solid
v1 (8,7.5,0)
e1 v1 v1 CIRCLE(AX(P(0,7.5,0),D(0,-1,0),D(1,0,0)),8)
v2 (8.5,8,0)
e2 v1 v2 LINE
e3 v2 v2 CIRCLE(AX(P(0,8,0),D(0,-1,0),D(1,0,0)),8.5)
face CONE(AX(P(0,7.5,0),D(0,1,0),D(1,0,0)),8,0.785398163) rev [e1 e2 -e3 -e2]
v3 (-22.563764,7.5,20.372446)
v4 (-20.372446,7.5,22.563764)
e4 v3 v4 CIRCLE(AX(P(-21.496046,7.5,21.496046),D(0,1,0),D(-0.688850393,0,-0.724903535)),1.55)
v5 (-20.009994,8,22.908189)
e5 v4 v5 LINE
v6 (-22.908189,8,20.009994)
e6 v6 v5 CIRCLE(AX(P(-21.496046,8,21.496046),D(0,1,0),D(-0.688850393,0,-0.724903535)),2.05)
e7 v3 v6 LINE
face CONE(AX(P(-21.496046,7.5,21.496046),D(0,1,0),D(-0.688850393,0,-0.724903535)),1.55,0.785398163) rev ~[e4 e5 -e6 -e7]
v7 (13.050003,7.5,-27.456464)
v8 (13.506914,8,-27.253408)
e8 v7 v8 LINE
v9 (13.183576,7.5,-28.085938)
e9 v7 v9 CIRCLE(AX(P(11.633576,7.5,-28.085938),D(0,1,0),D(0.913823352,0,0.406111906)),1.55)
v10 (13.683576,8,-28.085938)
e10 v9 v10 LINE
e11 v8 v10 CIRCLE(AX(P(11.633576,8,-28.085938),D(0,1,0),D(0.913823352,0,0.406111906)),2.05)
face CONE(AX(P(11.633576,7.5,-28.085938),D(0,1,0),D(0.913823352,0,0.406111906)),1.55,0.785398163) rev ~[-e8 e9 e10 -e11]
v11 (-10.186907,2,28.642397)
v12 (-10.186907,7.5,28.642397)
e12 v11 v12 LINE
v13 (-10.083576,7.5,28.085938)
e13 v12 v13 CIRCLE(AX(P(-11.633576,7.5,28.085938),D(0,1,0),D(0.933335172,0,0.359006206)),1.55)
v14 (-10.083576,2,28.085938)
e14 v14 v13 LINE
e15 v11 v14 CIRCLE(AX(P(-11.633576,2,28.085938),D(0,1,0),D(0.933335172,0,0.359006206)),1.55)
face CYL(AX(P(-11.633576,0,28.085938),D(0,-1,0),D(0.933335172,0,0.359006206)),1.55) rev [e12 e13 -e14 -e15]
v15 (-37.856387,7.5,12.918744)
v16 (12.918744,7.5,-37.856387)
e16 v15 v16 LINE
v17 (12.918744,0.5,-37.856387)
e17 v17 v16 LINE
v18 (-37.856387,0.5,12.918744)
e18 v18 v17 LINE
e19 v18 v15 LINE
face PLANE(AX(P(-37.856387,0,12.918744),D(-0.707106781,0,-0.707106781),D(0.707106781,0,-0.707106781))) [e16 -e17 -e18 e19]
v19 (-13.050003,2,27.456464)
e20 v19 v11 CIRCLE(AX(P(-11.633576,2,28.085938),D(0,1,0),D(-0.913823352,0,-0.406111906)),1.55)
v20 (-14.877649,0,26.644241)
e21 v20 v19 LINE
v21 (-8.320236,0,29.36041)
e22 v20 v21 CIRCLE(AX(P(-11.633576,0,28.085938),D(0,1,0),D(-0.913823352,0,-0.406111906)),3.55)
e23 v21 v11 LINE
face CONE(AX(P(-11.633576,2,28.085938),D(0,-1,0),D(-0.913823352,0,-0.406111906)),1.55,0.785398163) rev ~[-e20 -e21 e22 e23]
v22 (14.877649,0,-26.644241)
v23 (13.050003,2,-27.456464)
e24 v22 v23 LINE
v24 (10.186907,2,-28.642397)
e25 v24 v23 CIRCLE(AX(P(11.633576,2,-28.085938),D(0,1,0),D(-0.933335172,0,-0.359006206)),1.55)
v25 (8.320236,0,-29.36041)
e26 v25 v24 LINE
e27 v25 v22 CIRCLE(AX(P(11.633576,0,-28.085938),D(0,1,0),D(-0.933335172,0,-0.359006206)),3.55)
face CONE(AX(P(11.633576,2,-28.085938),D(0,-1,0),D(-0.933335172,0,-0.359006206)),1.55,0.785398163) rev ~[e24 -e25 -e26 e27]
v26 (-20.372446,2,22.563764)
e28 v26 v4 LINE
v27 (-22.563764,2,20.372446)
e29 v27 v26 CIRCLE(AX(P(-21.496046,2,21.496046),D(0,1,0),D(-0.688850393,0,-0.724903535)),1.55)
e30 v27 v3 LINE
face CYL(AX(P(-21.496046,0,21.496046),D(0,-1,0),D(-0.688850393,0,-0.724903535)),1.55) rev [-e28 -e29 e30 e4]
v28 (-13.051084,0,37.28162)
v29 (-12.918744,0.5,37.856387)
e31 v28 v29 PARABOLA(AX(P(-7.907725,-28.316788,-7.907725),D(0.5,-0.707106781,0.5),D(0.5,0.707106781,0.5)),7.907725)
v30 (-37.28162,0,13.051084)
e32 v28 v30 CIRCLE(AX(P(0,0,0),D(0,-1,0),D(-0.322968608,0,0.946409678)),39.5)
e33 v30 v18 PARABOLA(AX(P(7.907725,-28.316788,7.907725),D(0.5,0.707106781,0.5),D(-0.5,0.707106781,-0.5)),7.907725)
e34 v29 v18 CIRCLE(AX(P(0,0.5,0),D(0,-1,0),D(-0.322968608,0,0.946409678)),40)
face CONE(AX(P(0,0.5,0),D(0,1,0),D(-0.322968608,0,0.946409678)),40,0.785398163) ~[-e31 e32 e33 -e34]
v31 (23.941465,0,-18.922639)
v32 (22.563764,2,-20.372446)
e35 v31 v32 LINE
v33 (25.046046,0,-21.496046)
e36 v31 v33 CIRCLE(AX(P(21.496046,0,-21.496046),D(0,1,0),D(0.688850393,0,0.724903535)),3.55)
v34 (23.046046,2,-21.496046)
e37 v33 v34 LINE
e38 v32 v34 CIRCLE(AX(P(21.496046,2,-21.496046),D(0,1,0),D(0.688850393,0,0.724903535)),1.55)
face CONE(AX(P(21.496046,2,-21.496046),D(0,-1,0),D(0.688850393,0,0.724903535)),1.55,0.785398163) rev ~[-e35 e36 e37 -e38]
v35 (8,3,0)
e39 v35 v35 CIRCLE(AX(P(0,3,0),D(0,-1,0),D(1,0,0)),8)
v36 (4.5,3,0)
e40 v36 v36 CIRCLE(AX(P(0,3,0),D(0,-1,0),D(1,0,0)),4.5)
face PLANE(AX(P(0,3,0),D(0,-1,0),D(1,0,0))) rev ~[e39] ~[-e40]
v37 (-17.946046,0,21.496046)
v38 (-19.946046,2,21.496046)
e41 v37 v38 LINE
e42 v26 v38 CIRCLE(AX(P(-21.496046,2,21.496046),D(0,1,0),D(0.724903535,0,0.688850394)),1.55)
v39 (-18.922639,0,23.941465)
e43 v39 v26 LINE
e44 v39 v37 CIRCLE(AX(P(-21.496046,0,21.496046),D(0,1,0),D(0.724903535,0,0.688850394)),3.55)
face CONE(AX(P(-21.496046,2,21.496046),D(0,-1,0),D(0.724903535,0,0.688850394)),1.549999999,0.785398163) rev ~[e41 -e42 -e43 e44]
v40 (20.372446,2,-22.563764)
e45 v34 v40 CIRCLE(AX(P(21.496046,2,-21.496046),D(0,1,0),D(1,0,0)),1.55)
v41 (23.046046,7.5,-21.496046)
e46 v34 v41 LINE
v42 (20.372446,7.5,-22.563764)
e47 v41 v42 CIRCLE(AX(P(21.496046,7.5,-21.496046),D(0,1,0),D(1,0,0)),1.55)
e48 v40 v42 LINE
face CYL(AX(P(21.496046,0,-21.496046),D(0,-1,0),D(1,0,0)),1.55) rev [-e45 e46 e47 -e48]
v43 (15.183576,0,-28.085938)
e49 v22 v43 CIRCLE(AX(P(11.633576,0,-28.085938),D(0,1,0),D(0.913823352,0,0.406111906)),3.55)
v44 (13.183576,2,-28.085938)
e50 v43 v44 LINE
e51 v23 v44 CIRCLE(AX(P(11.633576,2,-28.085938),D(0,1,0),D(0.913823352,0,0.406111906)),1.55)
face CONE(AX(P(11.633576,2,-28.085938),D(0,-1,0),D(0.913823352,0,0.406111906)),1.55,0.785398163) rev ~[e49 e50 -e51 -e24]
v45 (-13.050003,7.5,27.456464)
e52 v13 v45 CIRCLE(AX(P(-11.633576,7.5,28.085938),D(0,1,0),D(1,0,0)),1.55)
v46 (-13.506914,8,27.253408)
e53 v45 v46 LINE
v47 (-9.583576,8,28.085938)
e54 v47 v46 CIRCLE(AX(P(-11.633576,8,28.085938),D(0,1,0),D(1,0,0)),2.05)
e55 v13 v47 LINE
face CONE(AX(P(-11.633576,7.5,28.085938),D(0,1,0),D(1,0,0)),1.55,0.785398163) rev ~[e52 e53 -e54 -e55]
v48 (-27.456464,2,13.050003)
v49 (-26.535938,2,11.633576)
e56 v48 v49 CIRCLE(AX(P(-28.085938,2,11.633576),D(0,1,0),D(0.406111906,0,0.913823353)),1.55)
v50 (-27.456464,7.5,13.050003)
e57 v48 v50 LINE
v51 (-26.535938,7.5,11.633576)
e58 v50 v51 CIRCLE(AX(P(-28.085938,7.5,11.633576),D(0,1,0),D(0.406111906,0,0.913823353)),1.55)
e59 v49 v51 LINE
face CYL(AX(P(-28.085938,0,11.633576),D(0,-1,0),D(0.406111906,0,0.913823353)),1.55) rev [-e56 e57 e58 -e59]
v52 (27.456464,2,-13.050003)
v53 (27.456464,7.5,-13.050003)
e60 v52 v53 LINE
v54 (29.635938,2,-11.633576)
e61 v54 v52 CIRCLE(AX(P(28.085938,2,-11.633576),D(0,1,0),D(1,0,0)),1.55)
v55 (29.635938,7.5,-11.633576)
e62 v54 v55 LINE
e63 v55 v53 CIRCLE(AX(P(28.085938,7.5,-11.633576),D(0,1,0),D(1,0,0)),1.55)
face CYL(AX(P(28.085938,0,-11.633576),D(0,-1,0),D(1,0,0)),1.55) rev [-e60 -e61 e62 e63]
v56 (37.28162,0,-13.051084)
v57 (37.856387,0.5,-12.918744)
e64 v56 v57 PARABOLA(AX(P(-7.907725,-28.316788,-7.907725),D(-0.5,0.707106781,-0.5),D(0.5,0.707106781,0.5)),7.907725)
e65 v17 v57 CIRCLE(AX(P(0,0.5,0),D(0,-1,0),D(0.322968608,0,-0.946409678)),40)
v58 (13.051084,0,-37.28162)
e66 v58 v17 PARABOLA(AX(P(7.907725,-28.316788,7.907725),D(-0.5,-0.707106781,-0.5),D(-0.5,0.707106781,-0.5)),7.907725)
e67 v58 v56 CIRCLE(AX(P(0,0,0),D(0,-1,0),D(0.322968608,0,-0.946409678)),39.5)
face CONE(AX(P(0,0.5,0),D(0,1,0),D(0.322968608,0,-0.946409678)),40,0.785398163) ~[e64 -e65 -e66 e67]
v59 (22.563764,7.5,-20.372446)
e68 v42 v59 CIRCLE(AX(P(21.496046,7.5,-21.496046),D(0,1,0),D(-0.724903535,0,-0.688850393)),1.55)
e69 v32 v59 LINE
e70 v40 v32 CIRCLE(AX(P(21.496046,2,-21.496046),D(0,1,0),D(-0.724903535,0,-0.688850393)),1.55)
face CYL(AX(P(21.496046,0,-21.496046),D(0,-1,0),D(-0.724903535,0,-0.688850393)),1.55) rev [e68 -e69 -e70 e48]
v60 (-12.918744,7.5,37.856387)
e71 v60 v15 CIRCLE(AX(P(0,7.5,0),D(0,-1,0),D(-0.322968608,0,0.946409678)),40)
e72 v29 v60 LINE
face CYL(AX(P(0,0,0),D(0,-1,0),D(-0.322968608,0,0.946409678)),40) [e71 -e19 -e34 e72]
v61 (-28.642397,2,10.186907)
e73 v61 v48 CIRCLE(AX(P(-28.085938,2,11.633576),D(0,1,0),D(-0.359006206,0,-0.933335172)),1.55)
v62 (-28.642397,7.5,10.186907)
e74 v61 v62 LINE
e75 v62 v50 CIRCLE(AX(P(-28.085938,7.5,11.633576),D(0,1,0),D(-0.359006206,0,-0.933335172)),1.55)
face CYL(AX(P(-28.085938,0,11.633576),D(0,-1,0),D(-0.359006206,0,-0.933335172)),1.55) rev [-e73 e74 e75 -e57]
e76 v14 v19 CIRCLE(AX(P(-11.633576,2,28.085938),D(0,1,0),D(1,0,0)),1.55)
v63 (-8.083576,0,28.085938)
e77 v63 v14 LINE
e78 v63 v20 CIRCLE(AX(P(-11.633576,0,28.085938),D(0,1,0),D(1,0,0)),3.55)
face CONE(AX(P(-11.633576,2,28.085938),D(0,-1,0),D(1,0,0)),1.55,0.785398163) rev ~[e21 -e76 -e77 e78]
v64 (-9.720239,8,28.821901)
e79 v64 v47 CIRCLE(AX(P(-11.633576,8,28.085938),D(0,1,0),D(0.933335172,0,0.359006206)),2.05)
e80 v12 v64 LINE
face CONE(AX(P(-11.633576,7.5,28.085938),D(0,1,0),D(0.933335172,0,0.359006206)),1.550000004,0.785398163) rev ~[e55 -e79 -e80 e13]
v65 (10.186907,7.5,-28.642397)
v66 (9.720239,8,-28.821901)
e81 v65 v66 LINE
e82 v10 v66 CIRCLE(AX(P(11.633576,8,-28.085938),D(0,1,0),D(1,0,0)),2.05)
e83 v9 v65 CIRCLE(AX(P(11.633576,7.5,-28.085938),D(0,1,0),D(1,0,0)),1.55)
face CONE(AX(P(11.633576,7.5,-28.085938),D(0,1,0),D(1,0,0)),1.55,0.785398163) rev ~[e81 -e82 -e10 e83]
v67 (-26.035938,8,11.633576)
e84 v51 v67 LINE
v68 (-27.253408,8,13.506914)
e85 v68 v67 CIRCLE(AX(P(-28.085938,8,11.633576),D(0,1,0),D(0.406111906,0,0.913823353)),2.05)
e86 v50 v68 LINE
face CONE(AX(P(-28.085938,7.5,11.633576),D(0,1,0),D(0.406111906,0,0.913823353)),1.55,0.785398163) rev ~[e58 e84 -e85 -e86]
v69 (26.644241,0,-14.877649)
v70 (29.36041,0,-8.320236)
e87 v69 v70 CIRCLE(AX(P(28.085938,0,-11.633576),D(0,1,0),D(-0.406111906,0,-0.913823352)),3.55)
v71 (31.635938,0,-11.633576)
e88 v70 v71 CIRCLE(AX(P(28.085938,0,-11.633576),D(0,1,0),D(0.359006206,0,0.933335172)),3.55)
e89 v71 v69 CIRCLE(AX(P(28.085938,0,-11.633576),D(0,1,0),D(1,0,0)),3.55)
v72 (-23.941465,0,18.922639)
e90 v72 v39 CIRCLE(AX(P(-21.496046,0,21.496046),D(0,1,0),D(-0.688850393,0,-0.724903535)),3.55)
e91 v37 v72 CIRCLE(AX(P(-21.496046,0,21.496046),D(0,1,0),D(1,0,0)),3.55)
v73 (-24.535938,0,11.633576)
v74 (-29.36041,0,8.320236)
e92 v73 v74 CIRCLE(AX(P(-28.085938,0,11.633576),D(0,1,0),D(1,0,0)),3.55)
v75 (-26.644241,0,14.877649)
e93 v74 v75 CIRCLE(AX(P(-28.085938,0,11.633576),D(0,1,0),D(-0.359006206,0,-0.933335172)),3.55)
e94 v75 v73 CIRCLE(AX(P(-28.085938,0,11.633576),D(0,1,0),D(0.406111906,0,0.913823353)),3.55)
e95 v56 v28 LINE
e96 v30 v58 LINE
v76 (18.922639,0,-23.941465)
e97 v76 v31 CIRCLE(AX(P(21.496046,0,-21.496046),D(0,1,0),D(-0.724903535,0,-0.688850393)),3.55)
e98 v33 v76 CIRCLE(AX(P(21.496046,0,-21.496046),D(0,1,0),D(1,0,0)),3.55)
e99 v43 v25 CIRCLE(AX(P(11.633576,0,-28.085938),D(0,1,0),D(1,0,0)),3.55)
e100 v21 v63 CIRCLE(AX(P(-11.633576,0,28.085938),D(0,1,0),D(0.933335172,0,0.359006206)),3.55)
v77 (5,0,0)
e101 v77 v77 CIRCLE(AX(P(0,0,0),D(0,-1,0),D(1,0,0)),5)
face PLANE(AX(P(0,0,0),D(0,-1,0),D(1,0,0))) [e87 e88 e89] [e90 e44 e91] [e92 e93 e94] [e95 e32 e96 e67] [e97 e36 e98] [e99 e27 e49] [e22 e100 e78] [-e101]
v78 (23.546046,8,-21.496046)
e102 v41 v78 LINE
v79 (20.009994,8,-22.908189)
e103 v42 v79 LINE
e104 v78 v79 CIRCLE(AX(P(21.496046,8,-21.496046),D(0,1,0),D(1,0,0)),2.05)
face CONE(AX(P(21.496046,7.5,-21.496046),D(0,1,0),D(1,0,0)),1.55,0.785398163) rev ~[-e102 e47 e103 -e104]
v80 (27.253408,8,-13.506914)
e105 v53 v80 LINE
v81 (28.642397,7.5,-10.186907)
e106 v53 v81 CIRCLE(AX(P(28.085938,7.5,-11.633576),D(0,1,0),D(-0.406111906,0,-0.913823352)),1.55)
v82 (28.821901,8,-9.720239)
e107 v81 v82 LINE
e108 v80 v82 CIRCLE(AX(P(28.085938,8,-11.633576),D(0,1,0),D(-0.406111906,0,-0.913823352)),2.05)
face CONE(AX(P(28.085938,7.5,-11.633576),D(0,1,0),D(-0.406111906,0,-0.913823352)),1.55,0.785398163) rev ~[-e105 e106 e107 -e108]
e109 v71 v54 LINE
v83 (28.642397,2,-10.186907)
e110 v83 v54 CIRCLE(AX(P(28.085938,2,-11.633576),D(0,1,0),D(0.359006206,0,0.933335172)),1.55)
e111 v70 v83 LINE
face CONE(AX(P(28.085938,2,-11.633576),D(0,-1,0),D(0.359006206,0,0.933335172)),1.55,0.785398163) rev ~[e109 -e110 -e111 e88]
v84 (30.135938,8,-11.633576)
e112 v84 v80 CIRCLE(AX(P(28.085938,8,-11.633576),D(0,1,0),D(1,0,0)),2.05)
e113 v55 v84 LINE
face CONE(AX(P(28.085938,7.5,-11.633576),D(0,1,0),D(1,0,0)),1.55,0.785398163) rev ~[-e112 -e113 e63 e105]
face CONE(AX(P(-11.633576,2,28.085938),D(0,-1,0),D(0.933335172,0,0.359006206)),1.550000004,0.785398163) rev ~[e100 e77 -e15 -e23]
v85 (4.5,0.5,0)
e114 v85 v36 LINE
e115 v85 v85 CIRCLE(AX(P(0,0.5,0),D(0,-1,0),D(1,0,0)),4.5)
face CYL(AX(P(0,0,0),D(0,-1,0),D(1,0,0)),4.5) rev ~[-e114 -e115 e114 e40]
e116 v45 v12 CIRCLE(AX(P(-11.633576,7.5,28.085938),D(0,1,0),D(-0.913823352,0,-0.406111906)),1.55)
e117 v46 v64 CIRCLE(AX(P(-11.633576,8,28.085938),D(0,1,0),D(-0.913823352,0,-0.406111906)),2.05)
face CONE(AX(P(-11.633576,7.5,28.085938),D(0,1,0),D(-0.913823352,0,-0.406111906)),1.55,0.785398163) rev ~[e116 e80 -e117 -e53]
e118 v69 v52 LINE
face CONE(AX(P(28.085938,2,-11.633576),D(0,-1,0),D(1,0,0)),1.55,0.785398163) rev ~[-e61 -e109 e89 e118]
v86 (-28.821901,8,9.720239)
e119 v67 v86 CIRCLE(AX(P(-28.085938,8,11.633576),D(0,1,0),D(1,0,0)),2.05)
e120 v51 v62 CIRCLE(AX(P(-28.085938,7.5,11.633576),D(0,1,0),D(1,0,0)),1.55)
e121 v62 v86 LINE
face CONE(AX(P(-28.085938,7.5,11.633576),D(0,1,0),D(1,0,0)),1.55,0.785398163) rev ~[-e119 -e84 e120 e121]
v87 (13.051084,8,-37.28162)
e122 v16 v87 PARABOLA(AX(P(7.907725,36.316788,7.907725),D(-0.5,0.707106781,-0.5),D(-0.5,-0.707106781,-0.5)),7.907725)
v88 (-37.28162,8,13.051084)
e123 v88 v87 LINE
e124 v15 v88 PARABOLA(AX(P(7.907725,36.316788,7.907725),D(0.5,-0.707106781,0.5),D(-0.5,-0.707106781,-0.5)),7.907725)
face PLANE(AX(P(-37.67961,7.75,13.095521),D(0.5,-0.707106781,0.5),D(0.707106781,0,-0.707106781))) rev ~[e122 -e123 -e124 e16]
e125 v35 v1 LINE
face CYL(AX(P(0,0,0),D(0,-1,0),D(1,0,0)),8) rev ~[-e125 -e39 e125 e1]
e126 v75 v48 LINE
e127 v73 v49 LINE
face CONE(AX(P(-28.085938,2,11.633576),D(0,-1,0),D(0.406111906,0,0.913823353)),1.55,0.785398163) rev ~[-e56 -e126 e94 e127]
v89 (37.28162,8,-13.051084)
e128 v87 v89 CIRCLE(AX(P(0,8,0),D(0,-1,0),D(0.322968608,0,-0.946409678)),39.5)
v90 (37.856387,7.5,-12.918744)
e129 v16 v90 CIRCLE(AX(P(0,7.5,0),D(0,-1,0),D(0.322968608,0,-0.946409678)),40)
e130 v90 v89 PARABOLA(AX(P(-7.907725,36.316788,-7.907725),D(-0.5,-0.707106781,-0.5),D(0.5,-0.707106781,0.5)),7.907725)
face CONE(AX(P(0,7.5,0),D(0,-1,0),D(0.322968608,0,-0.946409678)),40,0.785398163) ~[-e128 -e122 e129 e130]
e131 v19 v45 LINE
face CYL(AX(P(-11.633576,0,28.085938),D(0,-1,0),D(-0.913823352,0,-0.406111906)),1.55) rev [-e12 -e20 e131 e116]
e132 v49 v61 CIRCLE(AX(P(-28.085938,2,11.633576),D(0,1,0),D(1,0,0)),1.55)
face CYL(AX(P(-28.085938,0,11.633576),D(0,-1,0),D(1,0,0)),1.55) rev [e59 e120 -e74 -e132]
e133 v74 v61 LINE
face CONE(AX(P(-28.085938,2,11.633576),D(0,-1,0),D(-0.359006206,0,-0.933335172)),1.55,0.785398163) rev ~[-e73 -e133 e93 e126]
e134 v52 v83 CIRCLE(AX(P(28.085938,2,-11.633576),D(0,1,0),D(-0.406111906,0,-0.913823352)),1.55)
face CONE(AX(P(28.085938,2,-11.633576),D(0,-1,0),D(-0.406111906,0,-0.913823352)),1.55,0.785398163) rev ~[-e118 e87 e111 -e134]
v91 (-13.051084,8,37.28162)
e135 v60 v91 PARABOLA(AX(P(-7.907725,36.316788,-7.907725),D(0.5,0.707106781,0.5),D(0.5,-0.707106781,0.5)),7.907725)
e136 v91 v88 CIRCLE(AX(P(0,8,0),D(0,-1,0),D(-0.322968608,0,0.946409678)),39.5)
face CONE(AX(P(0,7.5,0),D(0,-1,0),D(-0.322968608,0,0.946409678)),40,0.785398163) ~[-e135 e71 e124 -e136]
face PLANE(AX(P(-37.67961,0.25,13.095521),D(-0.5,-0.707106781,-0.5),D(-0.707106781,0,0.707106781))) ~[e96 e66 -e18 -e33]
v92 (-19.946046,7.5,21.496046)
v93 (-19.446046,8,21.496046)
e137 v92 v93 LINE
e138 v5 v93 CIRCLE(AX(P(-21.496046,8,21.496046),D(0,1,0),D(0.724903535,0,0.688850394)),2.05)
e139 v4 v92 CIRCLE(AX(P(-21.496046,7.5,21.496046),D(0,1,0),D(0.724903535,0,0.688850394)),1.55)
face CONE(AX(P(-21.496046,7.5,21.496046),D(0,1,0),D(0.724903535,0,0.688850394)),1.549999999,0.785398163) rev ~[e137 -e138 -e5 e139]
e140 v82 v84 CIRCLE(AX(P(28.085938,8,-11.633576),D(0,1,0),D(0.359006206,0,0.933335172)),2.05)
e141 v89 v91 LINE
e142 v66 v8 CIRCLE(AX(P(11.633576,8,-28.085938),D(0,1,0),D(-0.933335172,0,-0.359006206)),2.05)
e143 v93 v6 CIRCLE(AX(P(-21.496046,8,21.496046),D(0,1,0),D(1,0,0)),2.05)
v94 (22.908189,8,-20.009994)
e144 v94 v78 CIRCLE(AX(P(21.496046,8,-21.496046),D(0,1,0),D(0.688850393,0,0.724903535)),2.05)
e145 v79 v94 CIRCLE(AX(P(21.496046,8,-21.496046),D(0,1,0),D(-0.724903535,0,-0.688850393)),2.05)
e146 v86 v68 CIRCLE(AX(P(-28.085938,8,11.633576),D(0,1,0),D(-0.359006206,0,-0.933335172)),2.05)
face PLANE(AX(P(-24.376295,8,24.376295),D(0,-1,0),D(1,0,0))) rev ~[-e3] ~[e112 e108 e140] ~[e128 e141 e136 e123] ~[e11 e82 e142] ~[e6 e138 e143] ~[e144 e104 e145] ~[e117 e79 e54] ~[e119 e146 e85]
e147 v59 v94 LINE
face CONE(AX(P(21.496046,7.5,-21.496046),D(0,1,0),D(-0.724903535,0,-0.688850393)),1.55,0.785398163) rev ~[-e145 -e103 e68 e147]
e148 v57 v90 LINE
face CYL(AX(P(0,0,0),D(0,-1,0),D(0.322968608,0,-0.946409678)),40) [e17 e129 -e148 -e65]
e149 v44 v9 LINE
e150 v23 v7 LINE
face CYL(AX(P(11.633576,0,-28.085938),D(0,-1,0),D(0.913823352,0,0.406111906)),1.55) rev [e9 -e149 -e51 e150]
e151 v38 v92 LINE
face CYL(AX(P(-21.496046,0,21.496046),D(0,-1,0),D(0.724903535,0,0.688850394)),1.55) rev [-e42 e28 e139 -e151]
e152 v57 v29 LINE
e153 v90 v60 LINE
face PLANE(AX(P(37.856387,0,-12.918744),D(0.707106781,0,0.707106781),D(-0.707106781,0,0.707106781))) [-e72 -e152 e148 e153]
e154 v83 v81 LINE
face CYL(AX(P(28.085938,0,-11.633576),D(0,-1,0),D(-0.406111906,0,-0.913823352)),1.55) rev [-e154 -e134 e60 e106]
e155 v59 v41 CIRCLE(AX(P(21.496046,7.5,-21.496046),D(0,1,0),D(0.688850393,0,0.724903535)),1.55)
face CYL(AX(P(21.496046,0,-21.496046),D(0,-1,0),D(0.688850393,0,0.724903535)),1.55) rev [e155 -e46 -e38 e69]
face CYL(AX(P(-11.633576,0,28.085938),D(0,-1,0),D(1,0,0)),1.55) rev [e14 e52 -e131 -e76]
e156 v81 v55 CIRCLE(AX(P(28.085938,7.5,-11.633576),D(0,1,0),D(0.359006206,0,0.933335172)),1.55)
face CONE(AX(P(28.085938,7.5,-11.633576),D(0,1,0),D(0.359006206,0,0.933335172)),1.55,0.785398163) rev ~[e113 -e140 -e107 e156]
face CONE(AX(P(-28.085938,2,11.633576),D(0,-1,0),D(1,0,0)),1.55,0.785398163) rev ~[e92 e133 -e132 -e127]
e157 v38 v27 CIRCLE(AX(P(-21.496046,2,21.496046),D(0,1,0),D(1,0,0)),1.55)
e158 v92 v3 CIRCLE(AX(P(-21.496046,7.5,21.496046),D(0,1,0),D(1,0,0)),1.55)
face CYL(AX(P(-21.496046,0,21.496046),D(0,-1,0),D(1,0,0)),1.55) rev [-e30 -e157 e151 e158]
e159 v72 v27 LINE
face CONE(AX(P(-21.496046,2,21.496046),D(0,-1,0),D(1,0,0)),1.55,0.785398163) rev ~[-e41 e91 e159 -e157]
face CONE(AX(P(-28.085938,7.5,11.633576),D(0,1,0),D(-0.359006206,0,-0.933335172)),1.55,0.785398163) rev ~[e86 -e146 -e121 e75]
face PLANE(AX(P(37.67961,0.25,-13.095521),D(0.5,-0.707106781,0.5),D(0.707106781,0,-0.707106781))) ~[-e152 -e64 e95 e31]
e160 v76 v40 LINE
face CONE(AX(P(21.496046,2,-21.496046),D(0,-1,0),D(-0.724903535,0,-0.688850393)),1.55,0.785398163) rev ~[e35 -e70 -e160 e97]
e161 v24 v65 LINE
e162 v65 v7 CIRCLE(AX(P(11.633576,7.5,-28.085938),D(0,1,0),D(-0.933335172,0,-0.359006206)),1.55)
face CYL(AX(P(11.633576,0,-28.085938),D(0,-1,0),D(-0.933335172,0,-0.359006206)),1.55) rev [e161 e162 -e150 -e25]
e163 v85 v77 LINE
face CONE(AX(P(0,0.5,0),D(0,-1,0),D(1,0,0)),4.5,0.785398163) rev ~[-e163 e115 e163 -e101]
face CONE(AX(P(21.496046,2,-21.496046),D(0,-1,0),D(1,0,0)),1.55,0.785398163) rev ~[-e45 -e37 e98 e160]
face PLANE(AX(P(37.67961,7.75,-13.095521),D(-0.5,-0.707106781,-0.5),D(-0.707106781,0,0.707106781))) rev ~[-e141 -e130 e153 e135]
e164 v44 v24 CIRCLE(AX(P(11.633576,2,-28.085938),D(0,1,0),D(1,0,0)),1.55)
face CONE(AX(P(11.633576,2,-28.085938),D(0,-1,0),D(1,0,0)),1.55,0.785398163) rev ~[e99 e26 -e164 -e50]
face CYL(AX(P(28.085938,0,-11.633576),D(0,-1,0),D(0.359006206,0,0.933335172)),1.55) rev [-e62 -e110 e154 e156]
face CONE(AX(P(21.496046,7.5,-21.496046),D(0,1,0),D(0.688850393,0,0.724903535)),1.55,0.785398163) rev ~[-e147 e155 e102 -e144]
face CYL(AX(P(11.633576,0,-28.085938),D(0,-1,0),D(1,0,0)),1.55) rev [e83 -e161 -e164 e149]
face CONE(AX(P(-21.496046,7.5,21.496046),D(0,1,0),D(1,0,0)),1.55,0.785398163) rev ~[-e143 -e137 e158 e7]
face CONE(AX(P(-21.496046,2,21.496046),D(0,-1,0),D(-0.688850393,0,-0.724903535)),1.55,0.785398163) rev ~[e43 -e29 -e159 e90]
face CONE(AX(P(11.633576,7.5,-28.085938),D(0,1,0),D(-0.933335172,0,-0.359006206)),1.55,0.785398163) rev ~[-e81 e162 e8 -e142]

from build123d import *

# Parameters (mm, degrees)
F0_R     = 8
F1_DEPTH = 8
F0_R_2   = 4.5
F2_DEPTH = 3
F3_SIZE  = 0.5
F4_SIZE  = 2


with BuildPart() as f1:
    # F0 (on Front) → F1 (new body)
    with BuildSketch(Plane.XZ):
        with BuildLine():
            Line((-7.7551369733, 32.692779792), (-12.9187443003, 37.856387119))
            ThreePointArc((-12.9187443003, 37.856387119), (-28.2842712475, 28.2842712475), (-37.856387119, 12.9187443003))
            Line((-37.856387119, 12.9187443003), (-32.692779792, 7.7551369733))
            ThreePointArc((-32.692779792, 7.7551369733), (-23.7587878479, 23.7587878479), (-7.7551369733, 32.692779792))
        make_face()
        with BuildLine():
            Line((-5.0414182424, 29.9790610611), (-7.7551369733, 32.692779792))
            ThreePointArc((-7.7551369733, 32.692779792), (-23.7587878479, 23.7587878479), (-32.692779792, 7.7551369733))
            Line((-32.692779792, 7.7551369733), (-29.9790610611, 5.0414182424))
            ThreePointArc((-29.9790610611, 5.0414182424), (-29.423423687, 7.6434376124), (-28.6423974084, 10.1869068269))
            ThreePointArc((-28.6423974084, 10.1869068269), (-29.5179510637, 12.2267356641), (-27.4564643335, 13.0500025402))
            ThreePointArc((-27.4564643335, 13.0500025402), (-25.276676214, 16.8893350838), (-22.5637642579, 20.3724456684))
            ThreePointArc((-22.5637642579, 20.3724456684), (-22.5920616589, 22.5920616589), (-20.3724456684, 22.5637642579))
            ThreePointArc((-20.3724456684, 22.5637642579), (-16.8893350838, 25.276676214), (-13.0500025402, 27.4564643335))
            ThreePointArc((-13.0500025402, 27.4564643335), (-12.2267356641, 29.5179510637), (-10.1869068269, 28.6423974084))
            ThreePointArc((-10.1869068269, 28.6423974084), (-7.6434376124, 29.423423687), (-5.0414182424, 29.9790610611))
        make_face()
        with BuildLine():
            Line((-0.0622796062, 24.9999224249), (-5.0414182424, 29.9790610611))
            ThreePointArc((-5.0414182424, 29.9790610611), (-7.6434376124, 29.423423687), (-10.1869068269, 28.6423974084))
            ThreePointArc((-10.1869068269, 28.6423974084), (-10.1096278948, 28.3689238734), (-10.0835763439, 28.0859377883))
            ThreePointArc((-10.0835763439, 28.0859377883), (-11.3118315726, 26.5696989212), (-13.0500025402, 27.4564643335))
            ThreePointArc((-13.0500025402, 27.4564643335), (-16.8893350838, 25.276676214), (-20.3724456684, 22.5637642579))
            ThreePointArc((-20.3724456684, 22.5637642579), (-20.0565877875, 22.0709023286), (-19.9460461481, 21.4960461481))
            ThreePointArc((-19.9460461481, 21.4960461481), (-20.8846800835, 20.0717106767), (-22.5637642579, 20.3724456684))
            ThreePointArc((-22.5637642579, 20.3724456684), (-25.276676214, 16.8893350838), (-27.4564643335, 13.0500025402))
            ThreePointArc((-27.4564643335, 13.0500025402), (-26.7862870939, 12.4782112192), (-26.5359377883, 11.6335763439))
            ThreePointArc((-26.5359377883, 11.6335763439), (-27.2084448855, 10.3558806816), (-28.6423974084, 10.1869068269))
            ThreePointArc((-28.6423974084, 10.1869068269), (-29.423423687, 7.6434376124), (-29.9790610611, 5.0414182424))
            Line((-29.9790610611, 5.0414182424), (-24.9999224249, 0.0622796062))
            ThreePointArc((-24.9999224249, 0.0622796062), (-17.6776695297, 17.6776695297), (-0.0622796062, 24.9999224249))
        make_face()
        with BuildLine():
            Line((24.9999224249, -0.0622796062), (-0.0622796062, 24.9999224249))
            ThreePointArc((-0.0622796062, 24.9999224249), (-17.6776695297, 17.6776695297), (-24.9999224249, 0.0622796062))
            Line((-24.9999224249, 0.0622796062), (0.0622796062, -24.9999224249))
            ThreePointArc((0.0622796062, -24.9999224249), (17.6776695297, -17.6776695297), (24.9999224249, -0.0622796062))
        make_face()
        Circle(F0_R, mode=Mode.SUBTRACT)
        with BuildLine():
            ThreePointArc((28.6423974084, -10.1869068269), (29.423423687, -7.6434376124), (29.9790610611, -5.0414182424))
            Line((29.9790610611, -5.0414182424), (24.9999224249, -0.0622796062))
            ThreePointArc((24.9999224249, -0.0622796062), (17.6776695297, -17.6776695297), (0.0622796062, -24.9999224249))
            Line((0.0622796062, -24.9999224249), (5.0414182424, -29.9790610611))
            ThreePointArc((5.0414182424, -29.9790610611), (7.6434376124, -29.423423687), (10.1869068269, -28.6423974084))
            ThreePointArc((10.1869068269, -28.6423974084), (11.0404170237, -26.653924513), (13.0500025402, -27.4564643335))
            ThreePointArc((13.0500025402, -27.4564643335), (16.8893350838, -25.276676214), (20.3724456684, -22.5637642579))
            ThreePointArc((20.3724456684, -22.5637642579), (20.4000306372, -20.4000306372), (22.5637642579, -20.3724456684))
            ThreePointArc((22.5637642579, -20.3724456684), (25.276676214, -16.8893350838), (27.4564643335, -13.0500025402))
            ThreePointArc((27.4564643335, -13.0500025402), (26.653924513, -11.0404170237), (28.6423974084, -10.1869068269))
        make_face()
        with BuildLine():
            ThreePointArc((7.7551369733, -32.692779792), (23.7587878479, -23.7587878479), (32.692779792, -7.7551369733))
            Line((32.692779792, -7.7551369733), (29.9790610611, -5.0414182424))
            ThreePointArc((29.9790610611, -5.0414182424), (29.423423687, -7.6434376124), (28.6423974084, -10.1869068269))
            ThreePointArc((28.6423974084, -10.1869068269), (29.3636334507, -10.7560834411), (29.6359377883, -11.6335763439))
            ThreePointArc((29.6359377883, -11.6335763439), (28.9305726636, -12.9332270383), (27.4564643335, -13.0500025402))
            ThreePointArc((27.4564643335, -13.0500025402), (25.276676214, -16.8893350838), (22.5637642579, -20.3724456684))
            ThreePointArc((22.5637642579, -20.3724456684), (22.9203816195, -20.8846800835), (23.0460461481, -21.4960461481))
            ThreePointArc((23.0460461481, -21.4960461481), (22.0709023286, -22.9355045086), (20.3724456684, -22.5637642579))
            ThreePointArc((20.3724456684, -22.5637642579), (16.8893350838, -25.276676214), (13.0500025402, -27.4564643335))
            ThreePointArc((13.0500025402, -27.4564643335), (13.149815211, -27.7641930171), (13.1835763439, -28.0859377883))
            ThreePointArc((13.1835763439, -28.0859377883), (11.916562429, -29.6098862375), (10.1869068269, -28.6423974084))
            ThreePointArc((10.1869068269, -28.6423974084), (7.6434376124, -29.423423687), (5.0414182424, -29.9790610611))
            Line((5.0414182424, -29.9790610611), (7.7551369733, -32.692779792))
        make_face()
        with BuildLine():
            ThreePointArc((12.9187443003, -37.856387119), (28.2842712475, -28.2842712475), (37.856387119, -12.9187443003))
            Line((37.856387119, -12.9187443003), (32.692779792, -7.7551369733))
            ThreePointArc((32.692779792, -7.7551369733), (23.7587878479, -23.7587878479), (7.7551369733, -32.692779792))
            Line((7.7551369733, -32.692779792), (12.9187443003, -37.856387119))
        make_face()
    extrude(amount=-F1_DEPTH)

    # F0 (on Front) → F2 (join)
    with BuildSketch(Plane.XZ):
        Circle(F0_R)
        Circle(F0_R_2, mode=Mode.SUBTRACT)
    extrude(amount=-F2_DEPTH)

    # F3
    f3_edges = [f1.edges().sort_by_distance(p)[0] for p in [
        (-28.284271, 8, 28.284271),
        (-12.468821, 8, -12.468821),
        (28.284271, 8, -28.284271),
        (12.468821, 8, 12.468821),
        (10.21715, 8, -28.715411),
        (20.428328, 8, -22.619647),
        (27.529478, 8, -13.080246),
        (-28.715411, 8, 10.21715),
        (-22.619647, 8, 20.428328),
        (-13.080246, 8, 27.529478),
        (-8, 8, 0),
        (-4.5, 0, 0),
        (12.468821, 0, 12.468821),
        (-28.284271, 0, 28.284271),
        (-12.468821, 0, -12.468821),
        (28.284271, 0, -28.284271),
    ]]
    chamfer(f3_edges, length=F3_SIZE)

    # F4
    f4_edges = [f1.edges().sort_by_distance(p)[0] for p in [
        (-28.715411, 0, 10.21715),
        (-22.619647, 0, 20.428328),
        (-13.080246, 0, 27.529478),
        (27.529478, 0, -13.080246),
        (20.428328, 0, -22.619647),
        (10.21715, 0, -28.715411),
    ]]
    chamfer(f4_edges, length=F4_SIZE)


solid = f1.part
